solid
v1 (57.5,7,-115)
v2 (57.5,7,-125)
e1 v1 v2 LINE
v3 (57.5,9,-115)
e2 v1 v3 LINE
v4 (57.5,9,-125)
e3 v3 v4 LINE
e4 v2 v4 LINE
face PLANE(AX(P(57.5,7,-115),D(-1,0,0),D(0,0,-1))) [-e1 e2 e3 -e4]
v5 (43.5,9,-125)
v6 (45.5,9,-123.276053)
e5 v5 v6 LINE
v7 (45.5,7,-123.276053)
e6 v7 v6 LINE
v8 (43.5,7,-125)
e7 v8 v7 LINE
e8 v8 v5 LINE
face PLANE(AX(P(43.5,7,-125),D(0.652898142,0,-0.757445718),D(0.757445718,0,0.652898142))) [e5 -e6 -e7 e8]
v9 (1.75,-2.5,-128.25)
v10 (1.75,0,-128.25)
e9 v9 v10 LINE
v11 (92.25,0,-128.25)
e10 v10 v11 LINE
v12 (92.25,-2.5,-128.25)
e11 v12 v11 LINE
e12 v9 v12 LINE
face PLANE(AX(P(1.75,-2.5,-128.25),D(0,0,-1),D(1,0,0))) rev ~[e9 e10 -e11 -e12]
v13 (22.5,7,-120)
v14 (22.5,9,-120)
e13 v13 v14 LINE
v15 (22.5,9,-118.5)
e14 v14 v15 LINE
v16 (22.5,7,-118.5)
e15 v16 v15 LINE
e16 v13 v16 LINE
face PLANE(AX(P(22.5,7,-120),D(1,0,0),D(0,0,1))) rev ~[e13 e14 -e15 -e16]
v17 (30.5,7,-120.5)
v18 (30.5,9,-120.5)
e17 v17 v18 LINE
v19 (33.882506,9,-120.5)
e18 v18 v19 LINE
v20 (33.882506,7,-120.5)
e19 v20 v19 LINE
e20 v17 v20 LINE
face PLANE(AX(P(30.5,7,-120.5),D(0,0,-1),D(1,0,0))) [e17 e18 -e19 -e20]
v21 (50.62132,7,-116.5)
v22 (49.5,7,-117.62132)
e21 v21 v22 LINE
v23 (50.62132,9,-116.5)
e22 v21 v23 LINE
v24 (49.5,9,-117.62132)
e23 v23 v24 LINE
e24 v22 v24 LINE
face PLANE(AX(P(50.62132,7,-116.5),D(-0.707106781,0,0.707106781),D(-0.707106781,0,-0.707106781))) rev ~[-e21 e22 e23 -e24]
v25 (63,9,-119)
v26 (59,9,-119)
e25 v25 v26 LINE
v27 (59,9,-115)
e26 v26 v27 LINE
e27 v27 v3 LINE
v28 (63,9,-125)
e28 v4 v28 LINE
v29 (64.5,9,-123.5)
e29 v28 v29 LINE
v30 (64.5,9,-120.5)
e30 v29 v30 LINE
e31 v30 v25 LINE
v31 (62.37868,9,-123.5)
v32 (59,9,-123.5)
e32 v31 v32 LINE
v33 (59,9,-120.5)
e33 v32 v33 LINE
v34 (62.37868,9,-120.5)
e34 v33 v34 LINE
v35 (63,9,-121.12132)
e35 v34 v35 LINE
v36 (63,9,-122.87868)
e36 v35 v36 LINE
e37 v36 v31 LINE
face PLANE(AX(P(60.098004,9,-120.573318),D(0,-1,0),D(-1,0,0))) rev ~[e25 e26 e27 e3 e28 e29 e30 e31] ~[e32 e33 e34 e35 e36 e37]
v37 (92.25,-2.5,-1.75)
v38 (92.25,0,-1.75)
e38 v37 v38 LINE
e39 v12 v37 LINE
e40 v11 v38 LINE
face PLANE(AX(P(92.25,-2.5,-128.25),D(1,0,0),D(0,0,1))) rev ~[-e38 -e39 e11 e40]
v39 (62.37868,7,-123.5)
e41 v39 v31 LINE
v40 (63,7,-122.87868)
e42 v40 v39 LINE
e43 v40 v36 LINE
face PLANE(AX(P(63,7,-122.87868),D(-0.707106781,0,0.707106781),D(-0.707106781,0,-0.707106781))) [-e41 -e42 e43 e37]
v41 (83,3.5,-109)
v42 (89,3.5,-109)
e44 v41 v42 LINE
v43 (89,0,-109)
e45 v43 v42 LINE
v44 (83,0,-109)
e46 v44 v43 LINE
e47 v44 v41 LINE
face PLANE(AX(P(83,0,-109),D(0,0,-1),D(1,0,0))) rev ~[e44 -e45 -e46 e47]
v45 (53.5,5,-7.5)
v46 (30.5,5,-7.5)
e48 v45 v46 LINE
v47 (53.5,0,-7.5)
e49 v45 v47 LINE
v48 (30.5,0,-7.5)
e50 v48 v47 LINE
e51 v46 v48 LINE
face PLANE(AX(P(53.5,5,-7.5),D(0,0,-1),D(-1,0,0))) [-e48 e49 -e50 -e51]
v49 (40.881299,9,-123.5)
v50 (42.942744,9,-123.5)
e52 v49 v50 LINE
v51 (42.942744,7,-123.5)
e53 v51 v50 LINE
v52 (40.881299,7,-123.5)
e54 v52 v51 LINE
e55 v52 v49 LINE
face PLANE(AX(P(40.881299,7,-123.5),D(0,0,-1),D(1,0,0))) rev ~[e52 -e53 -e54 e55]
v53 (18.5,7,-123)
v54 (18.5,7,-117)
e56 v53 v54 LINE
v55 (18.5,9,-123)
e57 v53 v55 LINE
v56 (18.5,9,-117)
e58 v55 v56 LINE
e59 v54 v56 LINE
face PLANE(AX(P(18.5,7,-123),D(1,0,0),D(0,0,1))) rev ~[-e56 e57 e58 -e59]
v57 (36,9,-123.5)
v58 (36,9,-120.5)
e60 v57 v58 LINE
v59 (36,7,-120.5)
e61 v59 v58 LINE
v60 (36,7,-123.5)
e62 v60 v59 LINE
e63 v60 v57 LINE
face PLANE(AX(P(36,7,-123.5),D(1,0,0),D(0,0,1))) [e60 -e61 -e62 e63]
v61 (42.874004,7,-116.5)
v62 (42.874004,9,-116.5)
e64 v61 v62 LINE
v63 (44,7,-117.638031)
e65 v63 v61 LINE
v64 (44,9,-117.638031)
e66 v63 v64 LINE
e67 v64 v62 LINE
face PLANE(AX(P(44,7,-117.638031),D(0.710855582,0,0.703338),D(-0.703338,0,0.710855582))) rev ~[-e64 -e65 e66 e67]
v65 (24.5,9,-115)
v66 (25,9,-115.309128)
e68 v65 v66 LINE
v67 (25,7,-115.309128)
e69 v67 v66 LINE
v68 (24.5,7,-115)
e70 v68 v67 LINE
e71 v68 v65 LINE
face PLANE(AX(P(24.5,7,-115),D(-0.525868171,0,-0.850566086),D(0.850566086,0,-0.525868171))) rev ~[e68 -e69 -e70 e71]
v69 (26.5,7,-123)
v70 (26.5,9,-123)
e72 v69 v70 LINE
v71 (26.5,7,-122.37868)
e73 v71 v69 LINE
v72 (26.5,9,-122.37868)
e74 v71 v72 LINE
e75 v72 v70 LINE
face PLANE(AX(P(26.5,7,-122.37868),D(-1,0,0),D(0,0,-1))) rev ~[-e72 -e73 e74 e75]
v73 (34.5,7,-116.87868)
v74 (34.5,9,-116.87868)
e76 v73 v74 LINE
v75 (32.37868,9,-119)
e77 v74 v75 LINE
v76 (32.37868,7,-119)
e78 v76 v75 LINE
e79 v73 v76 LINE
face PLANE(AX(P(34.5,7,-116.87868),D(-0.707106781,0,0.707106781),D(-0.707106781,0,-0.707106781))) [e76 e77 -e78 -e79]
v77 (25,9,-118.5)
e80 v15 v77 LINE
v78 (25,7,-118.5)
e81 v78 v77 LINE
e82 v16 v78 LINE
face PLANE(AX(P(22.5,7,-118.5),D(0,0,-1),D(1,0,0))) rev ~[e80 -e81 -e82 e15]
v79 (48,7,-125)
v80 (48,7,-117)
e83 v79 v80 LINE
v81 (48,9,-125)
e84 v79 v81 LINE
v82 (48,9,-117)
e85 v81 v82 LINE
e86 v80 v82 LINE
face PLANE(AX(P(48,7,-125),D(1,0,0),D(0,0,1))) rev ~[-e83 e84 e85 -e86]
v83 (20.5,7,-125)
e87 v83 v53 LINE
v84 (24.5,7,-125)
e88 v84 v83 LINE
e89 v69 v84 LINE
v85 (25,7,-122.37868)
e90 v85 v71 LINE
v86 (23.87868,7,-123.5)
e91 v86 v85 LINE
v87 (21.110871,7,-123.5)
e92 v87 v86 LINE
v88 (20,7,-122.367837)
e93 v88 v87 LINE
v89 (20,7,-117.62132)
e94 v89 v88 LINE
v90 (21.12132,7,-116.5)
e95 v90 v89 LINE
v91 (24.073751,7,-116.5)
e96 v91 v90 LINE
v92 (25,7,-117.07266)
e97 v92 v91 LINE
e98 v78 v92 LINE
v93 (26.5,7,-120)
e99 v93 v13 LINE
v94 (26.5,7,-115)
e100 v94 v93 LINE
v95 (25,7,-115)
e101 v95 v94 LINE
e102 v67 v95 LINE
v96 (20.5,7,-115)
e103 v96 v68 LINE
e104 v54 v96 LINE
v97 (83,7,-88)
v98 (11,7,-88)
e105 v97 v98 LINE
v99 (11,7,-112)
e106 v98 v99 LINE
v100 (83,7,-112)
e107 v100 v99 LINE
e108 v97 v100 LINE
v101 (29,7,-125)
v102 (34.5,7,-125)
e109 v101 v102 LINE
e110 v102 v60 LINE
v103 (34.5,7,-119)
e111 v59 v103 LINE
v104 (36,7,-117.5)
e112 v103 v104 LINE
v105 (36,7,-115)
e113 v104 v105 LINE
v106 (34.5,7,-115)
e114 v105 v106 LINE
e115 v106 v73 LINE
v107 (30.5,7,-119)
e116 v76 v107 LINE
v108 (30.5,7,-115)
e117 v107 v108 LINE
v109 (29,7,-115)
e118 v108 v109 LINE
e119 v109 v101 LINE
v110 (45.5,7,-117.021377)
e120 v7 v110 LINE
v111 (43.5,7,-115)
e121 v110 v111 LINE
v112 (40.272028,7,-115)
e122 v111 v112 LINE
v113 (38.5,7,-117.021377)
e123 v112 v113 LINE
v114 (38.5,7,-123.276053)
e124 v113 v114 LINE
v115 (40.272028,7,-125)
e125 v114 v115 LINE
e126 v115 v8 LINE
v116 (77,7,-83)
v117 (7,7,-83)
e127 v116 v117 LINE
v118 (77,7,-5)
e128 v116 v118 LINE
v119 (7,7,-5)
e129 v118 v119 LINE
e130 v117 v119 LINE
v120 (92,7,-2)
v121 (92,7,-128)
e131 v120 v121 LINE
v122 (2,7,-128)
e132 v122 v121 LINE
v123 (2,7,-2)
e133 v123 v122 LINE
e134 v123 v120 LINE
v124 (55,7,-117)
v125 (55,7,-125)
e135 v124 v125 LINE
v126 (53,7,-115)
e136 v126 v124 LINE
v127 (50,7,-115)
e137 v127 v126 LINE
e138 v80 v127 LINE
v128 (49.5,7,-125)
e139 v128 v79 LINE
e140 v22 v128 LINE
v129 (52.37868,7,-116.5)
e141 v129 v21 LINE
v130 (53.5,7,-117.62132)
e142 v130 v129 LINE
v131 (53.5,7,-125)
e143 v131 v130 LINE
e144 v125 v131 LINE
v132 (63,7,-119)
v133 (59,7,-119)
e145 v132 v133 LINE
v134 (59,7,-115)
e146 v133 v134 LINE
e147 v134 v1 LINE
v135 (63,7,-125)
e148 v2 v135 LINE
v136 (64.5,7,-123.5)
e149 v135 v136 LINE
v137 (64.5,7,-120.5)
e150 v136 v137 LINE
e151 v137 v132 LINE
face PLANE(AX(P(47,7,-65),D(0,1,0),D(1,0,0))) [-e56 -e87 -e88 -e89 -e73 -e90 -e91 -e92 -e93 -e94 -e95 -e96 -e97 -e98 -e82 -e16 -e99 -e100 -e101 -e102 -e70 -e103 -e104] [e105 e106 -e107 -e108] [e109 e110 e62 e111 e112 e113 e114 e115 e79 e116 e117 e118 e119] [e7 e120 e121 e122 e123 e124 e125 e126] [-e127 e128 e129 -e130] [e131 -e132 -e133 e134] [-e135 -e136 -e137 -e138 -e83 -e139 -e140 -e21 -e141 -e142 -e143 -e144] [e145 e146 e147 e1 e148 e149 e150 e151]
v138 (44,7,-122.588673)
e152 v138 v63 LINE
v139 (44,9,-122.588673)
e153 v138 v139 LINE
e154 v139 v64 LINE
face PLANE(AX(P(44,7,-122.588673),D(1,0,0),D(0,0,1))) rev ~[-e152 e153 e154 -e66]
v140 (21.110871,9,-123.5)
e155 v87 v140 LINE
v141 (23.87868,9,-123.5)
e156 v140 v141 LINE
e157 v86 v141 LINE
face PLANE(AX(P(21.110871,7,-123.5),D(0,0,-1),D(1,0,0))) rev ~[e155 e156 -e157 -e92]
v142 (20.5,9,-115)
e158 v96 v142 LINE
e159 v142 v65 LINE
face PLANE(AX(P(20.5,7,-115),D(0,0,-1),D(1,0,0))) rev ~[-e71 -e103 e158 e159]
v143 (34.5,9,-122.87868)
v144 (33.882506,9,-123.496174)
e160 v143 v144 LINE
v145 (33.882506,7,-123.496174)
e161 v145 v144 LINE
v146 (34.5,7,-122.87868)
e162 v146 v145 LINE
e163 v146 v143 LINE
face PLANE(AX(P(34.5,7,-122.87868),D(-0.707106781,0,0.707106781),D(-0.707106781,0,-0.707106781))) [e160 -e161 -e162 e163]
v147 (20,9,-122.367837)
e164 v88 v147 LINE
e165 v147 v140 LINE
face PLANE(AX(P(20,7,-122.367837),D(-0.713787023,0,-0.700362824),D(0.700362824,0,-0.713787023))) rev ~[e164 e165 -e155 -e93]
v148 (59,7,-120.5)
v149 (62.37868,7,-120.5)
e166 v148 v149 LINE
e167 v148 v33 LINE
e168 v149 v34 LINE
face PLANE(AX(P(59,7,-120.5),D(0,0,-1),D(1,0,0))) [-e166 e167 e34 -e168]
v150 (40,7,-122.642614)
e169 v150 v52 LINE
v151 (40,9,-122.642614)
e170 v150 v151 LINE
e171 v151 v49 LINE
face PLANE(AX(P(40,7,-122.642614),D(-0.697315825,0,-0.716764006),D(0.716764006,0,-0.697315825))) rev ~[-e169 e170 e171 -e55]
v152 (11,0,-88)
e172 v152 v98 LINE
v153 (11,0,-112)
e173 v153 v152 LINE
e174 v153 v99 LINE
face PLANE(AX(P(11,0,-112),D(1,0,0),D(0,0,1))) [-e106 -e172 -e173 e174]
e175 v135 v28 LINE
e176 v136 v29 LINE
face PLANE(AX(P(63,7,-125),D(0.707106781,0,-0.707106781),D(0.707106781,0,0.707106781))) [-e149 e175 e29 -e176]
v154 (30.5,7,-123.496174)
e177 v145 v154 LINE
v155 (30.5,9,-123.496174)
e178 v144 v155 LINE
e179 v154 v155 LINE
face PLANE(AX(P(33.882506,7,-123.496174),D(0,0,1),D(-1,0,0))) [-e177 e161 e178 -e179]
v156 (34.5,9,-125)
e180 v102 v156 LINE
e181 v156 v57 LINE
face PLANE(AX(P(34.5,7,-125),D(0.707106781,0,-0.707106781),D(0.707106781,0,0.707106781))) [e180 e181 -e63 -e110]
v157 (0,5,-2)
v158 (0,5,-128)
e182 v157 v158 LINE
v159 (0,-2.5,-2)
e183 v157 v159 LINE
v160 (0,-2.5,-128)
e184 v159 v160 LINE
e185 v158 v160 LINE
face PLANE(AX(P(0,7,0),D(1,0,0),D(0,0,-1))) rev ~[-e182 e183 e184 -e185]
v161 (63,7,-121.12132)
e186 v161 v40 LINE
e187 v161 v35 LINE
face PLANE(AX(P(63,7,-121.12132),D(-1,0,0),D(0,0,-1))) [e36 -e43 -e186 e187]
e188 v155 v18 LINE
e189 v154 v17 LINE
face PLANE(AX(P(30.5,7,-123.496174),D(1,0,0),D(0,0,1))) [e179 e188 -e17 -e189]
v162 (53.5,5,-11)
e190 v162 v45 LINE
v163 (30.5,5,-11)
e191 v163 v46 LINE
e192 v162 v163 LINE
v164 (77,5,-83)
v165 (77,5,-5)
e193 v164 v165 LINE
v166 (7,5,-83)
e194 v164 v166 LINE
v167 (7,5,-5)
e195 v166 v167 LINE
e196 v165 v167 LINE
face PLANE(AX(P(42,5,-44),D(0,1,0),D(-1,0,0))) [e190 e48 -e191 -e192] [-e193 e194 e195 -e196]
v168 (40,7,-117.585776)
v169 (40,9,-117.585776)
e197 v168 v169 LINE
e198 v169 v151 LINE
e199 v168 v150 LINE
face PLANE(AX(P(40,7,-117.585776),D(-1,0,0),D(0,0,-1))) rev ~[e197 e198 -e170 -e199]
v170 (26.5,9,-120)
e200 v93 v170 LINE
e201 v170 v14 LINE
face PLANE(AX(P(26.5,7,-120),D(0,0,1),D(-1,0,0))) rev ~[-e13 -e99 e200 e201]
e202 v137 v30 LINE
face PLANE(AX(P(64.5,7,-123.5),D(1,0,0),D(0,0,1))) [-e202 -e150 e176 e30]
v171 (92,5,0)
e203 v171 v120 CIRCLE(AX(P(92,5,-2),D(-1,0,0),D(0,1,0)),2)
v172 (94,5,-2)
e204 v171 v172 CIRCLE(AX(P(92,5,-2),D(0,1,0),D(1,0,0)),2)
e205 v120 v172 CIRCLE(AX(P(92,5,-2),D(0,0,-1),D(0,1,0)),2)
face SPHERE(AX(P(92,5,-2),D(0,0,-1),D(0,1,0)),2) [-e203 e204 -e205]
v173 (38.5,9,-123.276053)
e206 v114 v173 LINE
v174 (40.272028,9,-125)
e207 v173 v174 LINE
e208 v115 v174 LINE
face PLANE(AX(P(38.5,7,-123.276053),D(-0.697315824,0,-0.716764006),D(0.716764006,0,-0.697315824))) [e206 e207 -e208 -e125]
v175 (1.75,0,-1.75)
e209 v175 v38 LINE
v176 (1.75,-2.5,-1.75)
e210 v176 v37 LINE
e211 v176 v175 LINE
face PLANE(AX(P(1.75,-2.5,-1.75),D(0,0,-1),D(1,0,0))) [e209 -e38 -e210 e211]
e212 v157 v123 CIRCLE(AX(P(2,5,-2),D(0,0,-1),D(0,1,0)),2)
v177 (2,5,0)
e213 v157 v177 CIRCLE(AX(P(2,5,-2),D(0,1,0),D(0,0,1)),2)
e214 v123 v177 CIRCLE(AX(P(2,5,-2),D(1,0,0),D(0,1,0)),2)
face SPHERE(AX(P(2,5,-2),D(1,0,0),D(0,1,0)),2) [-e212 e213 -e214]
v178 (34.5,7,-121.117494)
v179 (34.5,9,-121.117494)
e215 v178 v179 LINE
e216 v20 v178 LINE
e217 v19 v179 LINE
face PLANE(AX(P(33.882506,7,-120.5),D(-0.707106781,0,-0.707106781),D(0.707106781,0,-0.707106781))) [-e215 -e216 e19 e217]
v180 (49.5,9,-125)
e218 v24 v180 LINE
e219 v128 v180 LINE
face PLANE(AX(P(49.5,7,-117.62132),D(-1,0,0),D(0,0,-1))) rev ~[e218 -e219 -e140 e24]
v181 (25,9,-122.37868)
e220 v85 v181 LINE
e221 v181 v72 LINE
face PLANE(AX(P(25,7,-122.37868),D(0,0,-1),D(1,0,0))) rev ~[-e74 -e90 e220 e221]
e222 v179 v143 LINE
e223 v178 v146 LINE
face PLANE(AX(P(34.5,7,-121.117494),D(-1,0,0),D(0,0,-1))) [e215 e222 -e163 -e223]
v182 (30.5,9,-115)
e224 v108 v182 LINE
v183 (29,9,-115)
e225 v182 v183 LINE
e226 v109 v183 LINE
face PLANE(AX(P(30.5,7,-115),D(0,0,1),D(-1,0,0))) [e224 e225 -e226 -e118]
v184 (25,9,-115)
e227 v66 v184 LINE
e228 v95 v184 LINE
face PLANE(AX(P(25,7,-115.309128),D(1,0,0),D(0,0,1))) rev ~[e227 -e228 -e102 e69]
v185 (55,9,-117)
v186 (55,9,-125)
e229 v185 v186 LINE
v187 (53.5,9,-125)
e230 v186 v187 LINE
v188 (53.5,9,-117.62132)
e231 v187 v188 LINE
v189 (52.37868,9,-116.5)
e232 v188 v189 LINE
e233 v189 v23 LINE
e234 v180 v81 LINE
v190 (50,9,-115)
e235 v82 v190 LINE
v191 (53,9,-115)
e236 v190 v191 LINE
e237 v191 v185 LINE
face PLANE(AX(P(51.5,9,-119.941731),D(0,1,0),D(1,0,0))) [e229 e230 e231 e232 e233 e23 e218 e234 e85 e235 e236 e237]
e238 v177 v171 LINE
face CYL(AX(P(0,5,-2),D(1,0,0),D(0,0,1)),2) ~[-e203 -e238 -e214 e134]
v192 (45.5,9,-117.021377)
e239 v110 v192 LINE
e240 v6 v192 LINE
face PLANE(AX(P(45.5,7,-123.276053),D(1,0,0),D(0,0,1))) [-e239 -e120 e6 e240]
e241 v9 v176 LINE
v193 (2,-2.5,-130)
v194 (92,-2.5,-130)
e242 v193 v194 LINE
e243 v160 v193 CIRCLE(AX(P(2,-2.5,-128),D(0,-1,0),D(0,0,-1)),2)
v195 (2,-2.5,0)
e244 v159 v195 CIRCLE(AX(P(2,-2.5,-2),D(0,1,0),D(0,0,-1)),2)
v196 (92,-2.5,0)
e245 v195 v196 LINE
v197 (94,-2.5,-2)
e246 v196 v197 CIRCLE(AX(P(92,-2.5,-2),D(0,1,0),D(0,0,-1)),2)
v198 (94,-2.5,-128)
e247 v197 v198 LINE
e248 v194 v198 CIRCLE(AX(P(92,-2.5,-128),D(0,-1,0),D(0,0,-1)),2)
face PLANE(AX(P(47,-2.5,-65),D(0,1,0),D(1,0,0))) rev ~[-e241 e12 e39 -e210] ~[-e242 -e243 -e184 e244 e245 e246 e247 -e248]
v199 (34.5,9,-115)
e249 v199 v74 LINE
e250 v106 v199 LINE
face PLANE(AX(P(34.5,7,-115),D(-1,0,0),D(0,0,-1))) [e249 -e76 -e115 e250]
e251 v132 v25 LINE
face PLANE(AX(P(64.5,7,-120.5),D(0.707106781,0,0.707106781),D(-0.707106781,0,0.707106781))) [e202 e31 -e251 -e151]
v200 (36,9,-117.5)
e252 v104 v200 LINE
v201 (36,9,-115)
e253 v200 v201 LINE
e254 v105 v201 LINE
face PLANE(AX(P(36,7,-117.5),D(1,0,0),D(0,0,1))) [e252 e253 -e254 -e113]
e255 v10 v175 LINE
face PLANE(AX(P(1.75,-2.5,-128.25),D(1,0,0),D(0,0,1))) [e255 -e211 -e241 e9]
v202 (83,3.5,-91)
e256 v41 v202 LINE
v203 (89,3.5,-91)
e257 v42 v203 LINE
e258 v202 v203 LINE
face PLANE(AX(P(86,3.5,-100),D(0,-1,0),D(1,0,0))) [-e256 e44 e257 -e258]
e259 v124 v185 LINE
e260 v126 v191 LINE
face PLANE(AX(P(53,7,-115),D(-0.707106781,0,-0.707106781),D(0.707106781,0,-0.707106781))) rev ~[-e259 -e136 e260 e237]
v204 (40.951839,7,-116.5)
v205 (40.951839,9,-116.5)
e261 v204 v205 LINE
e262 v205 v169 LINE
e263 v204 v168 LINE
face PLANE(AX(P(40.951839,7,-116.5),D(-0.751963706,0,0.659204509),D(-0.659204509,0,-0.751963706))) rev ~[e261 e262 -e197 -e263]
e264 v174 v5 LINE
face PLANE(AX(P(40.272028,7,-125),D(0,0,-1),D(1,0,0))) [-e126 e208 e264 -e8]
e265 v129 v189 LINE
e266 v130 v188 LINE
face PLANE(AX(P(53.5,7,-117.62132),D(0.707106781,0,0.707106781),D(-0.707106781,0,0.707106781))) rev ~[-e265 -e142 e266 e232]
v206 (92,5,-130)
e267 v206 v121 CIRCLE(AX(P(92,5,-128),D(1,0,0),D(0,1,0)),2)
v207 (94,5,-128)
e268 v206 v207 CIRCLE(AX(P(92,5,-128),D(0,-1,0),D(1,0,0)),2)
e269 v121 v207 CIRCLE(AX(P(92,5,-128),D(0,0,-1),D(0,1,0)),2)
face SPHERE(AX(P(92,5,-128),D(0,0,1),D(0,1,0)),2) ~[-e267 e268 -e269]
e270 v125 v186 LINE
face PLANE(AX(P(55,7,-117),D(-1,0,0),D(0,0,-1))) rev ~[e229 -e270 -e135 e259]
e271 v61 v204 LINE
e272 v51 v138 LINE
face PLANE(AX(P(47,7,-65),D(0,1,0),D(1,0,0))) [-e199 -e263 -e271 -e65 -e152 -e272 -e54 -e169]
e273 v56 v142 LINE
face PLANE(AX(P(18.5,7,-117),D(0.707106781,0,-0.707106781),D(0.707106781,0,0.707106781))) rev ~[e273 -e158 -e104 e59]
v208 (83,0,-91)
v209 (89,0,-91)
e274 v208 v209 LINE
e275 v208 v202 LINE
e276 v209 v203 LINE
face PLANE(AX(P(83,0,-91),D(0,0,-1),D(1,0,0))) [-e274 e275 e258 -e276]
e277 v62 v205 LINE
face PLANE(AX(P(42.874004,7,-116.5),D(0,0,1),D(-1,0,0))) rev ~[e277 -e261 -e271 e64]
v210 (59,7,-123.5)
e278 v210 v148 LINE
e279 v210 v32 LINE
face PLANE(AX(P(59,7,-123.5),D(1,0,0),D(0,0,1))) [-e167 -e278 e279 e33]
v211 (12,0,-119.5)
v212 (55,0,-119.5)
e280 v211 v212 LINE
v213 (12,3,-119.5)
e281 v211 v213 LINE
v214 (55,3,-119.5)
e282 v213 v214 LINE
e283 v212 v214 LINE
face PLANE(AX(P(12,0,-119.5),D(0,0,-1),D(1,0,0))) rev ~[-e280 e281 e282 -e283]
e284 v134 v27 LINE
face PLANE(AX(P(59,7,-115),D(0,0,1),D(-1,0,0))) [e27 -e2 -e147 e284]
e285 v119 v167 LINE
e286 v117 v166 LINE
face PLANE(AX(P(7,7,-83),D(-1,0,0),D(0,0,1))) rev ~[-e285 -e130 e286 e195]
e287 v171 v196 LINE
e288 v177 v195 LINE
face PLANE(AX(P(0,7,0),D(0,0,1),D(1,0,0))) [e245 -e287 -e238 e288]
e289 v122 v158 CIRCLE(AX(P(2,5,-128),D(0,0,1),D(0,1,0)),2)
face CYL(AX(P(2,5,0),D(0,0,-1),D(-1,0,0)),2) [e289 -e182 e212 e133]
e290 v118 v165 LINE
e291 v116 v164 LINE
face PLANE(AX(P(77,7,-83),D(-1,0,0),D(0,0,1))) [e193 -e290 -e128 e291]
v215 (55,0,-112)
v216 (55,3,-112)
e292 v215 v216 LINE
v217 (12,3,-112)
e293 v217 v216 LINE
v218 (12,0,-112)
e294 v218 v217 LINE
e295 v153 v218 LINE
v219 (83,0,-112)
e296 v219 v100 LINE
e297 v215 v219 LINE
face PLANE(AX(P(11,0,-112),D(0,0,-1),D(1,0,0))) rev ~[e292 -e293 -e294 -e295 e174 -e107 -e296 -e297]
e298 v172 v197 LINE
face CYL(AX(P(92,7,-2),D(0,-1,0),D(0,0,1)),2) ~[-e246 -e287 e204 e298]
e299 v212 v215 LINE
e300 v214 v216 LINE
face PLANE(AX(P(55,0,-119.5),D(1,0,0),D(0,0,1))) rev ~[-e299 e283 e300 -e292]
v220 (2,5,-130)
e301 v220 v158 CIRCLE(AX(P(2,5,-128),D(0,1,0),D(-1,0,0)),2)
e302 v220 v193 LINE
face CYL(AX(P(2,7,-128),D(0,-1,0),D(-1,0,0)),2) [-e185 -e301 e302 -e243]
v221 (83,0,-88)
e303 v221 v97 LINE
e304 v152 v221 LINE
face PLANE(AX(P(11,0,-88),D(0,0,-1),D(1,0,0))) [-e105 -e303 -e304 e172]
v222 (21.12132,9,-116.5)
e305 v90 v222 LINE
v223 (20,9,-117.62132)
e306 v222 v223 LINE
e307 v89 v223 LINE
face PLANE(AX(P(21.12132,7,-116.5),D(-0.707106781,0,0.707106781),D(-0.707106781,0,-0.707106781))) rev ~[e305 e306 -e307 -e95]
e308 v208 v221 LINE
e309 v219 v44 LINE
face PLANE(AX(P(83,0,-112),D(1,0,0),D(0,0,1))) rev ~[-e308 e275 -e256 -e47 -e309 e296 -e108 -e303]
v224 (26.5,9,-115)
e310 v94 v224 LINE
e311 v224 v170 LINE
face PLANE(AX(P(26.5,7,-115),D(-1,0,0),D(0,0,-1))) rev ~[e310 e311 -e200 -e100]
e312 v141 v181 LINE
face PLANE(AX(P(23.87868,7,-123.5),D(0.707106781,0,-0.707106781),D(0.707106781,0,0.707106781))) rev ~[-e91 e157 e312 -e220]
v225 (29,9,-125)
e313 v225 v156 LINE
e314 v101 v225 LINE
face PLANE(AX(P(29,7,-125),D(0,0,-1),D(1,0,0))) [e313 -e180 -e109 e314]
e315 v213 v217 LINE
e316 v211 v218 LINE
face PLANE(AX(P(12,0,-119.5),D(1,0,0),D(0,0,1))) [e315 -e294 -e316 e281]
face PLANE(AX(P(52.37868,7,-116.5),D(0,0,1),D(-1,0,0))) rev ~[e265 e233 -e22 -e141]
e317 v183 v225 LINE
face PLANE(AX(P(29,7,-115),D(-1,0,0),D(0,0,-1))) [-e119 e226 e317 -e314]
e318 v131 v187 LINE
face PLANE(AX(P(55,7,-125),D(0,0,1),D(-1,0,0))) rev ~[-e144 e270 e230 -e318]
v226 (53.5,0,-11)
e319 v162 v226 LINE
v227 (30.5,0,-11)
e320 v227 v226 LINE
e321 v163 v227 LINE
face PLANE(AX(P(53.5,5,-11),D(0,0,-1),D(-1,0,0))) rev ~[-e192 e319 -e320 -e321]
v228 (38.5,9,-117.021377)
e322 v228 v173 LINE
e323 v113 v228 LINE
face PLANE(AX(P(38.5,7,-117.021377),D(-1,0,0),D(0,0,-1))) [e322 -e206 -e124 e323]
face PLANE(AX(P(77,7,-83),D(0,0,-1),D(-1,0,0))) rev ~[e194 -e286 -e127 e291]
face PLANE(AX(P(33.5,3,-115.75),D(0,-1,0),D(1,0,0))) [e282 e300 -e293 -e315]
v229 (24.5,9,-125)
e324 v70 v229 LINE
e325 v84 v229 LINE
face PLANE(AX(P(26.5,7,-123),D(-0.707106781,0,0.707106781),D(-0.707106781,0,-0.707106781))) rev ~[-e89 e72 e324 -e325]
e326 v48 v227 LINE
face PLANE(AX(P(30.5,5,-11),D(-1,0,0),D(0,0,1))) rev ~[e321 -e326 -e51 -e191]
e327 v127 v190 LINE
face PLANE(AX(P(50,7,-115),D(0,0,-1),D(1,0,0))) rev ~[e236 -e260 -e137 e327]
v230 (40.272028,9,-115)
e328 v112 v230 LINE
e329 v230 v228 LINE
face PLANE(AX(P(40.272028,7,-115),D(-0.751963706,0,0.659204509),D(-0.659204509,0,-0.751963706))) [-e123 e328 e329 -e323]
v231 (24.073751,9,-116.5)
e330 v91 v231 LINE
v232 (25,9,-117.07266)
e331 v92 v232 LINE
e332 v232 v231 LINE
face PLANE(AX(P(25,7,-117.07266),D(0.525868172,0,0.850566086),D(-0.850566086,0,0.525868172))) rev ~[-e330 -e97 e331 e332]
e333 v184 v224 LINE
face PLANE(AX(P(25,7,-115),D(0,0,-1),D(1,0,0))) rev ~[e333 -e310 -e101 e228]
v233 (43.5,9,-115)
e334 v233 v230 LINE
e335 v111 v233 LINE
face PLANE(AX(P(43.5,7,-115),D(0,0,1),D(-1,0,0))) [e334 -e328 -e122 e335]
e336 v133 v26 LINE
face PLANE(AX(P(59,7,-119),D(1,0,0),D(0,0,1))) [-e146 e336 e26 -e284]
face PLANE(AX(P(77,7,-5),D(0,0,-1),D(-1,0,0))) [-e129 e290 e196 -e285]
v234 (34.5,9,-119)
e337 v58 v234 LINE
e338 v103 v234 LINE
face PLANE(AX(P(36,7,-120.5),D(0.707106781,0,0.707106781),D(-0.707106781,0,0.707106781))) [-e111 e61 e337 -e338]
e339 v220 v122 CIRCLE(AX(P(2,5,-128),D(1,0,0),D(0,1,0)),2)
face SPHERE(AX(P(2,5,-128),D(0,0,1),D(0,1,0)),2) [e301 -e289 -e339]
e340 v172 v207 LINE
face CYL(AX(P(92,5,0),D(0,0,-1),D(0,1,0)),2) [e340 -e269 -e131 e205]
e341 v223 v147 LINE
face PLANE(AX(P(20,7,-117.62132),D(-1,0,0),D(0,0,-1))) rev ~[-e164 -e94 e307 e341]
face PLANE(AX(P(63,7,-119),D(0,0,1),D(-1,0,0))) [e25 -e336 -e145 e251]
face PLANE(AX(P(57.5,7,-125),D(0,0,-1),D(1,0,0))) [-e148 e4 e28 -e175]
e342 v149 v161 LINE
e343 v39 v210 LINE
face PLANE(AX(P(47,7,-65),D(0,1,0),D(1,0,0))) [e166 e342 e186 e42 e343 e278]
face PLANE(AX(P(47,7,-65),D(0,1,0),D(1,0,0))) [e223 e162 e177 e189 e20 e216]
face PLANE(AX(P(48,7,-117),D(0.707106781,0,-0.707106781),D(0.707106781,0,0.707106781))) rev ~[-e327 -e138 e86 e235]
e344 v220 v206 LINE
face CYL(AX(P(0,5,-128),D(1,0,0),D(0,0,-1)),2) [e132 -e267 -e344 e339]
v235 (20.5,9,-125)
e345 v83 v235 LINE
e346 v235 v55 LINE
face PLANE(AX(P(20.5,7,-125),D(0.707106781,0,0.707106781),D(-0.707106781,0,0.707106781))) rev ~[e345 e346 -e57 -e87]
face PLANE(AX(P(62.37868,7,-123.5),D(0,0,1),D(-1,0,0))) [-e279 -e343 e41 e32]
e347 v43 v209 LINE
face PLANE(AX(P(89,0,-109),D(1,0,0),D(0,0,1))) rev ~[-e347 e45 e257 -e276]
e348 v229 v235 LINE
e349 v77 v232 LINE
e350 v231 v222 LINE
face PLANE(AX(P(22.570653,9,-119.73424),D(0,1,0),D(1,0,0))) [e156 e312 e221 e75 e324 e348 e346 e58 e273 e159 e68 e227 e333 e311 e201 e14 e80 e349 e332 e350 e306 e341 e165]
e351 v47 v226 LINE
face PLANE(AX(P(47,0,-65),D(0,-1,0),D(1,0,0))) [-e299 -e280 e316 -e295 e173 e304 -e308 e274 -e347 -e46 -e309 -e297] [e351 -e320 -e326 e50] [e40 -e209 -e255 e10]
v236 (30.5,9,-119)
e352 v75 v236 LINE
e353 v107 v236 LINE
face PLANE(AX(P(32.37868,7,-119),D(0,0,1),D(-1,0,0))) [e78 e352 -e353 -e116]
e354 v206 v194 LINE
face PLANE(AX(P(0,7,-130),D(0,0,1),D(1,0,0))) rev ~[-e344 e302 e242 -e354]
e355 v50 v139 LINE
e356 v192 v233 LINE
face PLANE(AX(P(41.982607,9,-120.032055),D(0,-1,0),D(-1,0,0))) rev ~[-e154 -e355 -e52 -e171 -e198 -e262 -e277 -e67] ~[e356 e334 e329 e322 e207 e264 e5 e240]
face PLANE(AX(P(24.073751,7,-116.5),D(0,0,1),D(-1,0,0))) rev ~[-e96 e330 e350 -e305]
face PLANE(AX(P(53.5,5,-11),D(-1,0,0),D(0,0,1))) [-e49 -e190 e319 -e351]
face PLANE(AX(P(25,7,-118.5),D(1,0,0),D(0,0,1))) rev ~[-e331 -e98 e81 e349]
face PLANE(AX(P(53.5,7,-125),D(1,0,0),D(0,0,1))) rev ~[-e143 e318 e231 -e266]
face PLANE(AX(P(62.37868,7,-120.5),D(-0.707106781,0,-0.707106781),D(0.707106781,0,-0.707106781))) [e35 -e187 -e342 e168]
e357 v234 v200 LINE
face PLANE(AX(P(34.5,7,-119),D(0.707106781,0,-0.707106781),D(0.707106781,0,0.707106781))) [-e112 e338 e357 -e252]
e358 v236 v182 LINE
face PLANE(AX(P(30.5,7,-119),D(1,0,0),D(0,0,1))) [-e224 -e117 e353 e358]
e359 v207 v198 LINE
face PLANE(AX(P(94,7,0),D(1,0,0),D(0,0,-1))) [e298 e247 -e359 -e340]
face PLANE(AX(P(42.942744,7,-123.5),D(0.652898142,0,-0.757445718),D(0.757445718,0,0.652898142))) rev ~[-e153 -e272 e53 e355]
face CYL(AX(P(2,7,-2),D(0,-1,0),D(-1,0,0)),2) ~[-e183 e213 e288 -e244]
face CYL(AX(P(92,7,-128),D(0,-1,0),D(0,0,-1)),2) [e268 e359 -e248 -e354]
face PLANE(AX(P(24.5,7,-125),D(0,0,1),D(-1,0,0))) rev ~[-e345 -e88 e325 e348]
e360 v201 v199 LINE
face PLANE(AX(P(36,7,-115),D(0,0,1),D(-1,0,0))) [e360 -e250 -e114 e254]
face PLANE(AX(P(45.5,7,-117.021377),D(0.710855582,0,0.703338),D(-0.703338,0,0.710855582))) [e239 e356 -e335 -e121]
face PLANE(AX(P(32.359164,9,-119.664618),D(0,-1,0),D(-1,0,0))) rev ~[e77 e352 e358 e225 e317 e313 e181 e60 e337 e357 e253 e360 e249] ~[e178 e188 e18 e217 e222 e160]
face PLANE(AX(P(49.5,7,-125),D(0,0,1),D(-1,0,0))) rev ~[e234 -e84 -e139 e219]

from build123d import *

# Parameters (mm, degrees)
SKETCH1_W           = 94
SKETCH1_H           = 130
BOSS_EXTRUDE1_DEPTH = 9.5
SKETCH2_W           = 90.5
SKETCH2_H           = 126.5
CUT_EXTRUDE1_DEPTH  = 2.5
SKETCH3_W           = 72
SKETCH3_H           = 24
CUT_EXTRUDE2_DEPTH  = 8
SKETCH4_W           = 70
SKETCH4_H           = 78
CUT_EXTRUDE3_DEPTH  = 2
SKETCH5_W           = 23
SKETCH5_H           = 3.5
CUT_EXTRUDE4_DEPTH  = 8.5
SKETCH6_W           = 6
SKETCH6_H           = 18
CUT_EXTRUDE5_DEPTH  = 3.5
SKETCH7_W           = 43
SKETCH7_H           = 7.5
CUT_EXTRUDE6_DEPTH  = 3
FILLET1_R           = 2
BOSS_EXTRUDE3_DEPTH = 2


with BuildPart() as part:
    # Sketch1 → Boss-Extrude1 (new body)
    with BuildSketch(Plane(origin=(0, 7, 0), x_dir=(1, 0, 0), z_dir=(0, 1, 0))):
        with Locations((47, 65)):
            Rectangle(SKETCH1_W, SKETCH1_H)
    extrude(amount=-BOSS_EXTRUDE1_DEPTH)

    # Sketch2 → Cut-Extrude1 (cut)
    with BuildSketch(Plane.XZ.offset(2.5)):
        with Locations((47, -65)):
            Rectangle(SKETCH2_W, SKETCH2_H)
    extrude(amount=-CUT_EXTRUDE1_DEPTH, mode=Mode.SUBTRACT)

    # Sketch3 → Cut-Extrude2 (cut, through all)
    with BuildSketch(Plane.XZ):
        with Locations((47, -100)):
            Rectangle(SKETCH3_W, SKETCH3_H)
    extrude(amount=-CUT_EXTRUDE2_DEPTH, mode=Mode.SUBTRACT)

    # Sketch4 → Cut-Extrude3 (cut)
    with BuildSketch(Plane(origin=(0, 7, 0), x_dir=(-1, 0, 0), z_dir=(0, 1, 0))):
        with Locations((-42, -44)):
            Rectangle(SKETCH4_W, SKETCH4_H)
    extrude(amount=-CUT_EXTRUDE3_DEPTH, mode=Mode.SUBTRACT)

    # Sketch5 → Cut-Extrude4 (cut, through all)
    with BuildSketch(Plane(origin=(0, 5, 0), x_dir=(-1, 0, 0), z_dir=(0, 1, 0))):
        with Locations((-42, -9.25)):
            Rectangle(SKETCH5_W, SKETCH5_H)
    extrude(amount=-CUT_EXTRUDE4_DEPTH, mode=Mode.SUBTRACT)

    # Sketch6 → Cut-Extrude5 (cut)
    with BuildSketch(Plane.XZ):
        with Locations((86, -100)):
            Rectangle(SKETCH6_W, SKETCH6_H)
    extrude(amount=-CUT_EXTRUDE5_DEPTH, mode=Mode.SUBTRACT)

    # Sketch7 → Cut-Extrude6 (cut)
    with BuildSketch(Plane.XZ):
        with Locations((33.5, -115.75)):
            Rectangle(SKETCH7_W, SKETCH7_H)
    extrude(amount=-CUT_EXTRUDE6_DEPTH, mode=Mode.SUBTRACT)

    # Fillet1
    fillet1_edges = [part.edges().sort_by_distance(p)[0] for p in [
        (94, 7, -65),
        (47, 7, 0),
        (0, 7, -65),
        (47, 7, -130),
        (94, 2.25, -130),
        (94, 2.25, 0),
        (0, 2.25, 0),
        (0, 2.25, -130),
    ]]
    fillet(fillet1_edges, radius=FILLET1_R)

    # Sketch10 → Boss-Extrude3 (add)
    with BuildSketch(Plane(origin=(0, 7, 0), x_dir=(1, 0, 0), z_dir=(0, 1, 0))):
        Polygon((26.5, 123), (24.5, 125), (20.5, 125), (18.5, 123), (18.5, 117), (20.5, 115), (24.5, 115), (25, 115.309128344), (25, 115), (26.5, 115), (26.5, 120), (22.5, 120), (22.5, 118.5), (25, 118.5), (25, 117.072659745), (24.07375083, 116.5), (21.121320344, 116.5), (20, 117.621320344), (20, 122.367836714), (21.110870681, 123.5), (23.878679656, 123.5), (25, 122.378679656), (26.5, 122.378679656), align=None)
        Polygon((32.378679656, 119), (30.5, 119), (30.5, 115), (29, 115), (29, 125), (34.5, 125), (36, 123.5), (36, 120.5), (34.5, 119), (36, 117.5), (36, 115), (34.5, 115), (34.5, 116.878679656), align=None)
        Polygon((30.5, 123.496173662), (30.5, 120.5), (33.882505994, 120.5), (34.5, 121.117494006), (34.5, 122.878679656), (33.882505994, 123.496173662), align=None, mode=Mode.SUBTRACT)
        Polygon((43.5, 125), (45.5, 123.276052985), (45.5, 117.021376869), (43.5, 115), (40.272028005, 115), (38.5, 117.021376869), (38.5, 123.276052985), (40.272028005, 125), align=None)
        Polygon((42.942743976, 123.5), (44, 122.588673317), (44, 117.638031489), (42.874003649, 116.5), (40.951839055, 116.5), (40, 117.585775983), (40, 122.642614002), (40.881298547, 123.5), align=None, mode=Mode.SUBTRACT)
        Polygon((48, 117), (50, 115), (53, 115), (55, 117), (55, 125), (53.5, 125), (53.5, 123.5), (53.5, 117.621320344), (52.378679656, 116.5), (50.621320344, 116.5), (49.5, 117.621320344), (49.5, 123.5), (49.5, 125), (48, 125), align=None)
        Polygon((63, 119), (59, 119), (59, 115), (57.5, 115), (57.5, 125), (63, 125), (64.5, 123.5), (64.5, 120.5), align=None)
        Polygon((59, 123.5), (59, 120.5), (62.378679656, 120.5), (63, 121.121320344), (63, 122.878679656), (62.378679656, 123.5), align=None, mode=Mode.SUBTRACT)
    extrude(amount=BOSS_EXTRUDE3_DEPTH)


solid = part.part
